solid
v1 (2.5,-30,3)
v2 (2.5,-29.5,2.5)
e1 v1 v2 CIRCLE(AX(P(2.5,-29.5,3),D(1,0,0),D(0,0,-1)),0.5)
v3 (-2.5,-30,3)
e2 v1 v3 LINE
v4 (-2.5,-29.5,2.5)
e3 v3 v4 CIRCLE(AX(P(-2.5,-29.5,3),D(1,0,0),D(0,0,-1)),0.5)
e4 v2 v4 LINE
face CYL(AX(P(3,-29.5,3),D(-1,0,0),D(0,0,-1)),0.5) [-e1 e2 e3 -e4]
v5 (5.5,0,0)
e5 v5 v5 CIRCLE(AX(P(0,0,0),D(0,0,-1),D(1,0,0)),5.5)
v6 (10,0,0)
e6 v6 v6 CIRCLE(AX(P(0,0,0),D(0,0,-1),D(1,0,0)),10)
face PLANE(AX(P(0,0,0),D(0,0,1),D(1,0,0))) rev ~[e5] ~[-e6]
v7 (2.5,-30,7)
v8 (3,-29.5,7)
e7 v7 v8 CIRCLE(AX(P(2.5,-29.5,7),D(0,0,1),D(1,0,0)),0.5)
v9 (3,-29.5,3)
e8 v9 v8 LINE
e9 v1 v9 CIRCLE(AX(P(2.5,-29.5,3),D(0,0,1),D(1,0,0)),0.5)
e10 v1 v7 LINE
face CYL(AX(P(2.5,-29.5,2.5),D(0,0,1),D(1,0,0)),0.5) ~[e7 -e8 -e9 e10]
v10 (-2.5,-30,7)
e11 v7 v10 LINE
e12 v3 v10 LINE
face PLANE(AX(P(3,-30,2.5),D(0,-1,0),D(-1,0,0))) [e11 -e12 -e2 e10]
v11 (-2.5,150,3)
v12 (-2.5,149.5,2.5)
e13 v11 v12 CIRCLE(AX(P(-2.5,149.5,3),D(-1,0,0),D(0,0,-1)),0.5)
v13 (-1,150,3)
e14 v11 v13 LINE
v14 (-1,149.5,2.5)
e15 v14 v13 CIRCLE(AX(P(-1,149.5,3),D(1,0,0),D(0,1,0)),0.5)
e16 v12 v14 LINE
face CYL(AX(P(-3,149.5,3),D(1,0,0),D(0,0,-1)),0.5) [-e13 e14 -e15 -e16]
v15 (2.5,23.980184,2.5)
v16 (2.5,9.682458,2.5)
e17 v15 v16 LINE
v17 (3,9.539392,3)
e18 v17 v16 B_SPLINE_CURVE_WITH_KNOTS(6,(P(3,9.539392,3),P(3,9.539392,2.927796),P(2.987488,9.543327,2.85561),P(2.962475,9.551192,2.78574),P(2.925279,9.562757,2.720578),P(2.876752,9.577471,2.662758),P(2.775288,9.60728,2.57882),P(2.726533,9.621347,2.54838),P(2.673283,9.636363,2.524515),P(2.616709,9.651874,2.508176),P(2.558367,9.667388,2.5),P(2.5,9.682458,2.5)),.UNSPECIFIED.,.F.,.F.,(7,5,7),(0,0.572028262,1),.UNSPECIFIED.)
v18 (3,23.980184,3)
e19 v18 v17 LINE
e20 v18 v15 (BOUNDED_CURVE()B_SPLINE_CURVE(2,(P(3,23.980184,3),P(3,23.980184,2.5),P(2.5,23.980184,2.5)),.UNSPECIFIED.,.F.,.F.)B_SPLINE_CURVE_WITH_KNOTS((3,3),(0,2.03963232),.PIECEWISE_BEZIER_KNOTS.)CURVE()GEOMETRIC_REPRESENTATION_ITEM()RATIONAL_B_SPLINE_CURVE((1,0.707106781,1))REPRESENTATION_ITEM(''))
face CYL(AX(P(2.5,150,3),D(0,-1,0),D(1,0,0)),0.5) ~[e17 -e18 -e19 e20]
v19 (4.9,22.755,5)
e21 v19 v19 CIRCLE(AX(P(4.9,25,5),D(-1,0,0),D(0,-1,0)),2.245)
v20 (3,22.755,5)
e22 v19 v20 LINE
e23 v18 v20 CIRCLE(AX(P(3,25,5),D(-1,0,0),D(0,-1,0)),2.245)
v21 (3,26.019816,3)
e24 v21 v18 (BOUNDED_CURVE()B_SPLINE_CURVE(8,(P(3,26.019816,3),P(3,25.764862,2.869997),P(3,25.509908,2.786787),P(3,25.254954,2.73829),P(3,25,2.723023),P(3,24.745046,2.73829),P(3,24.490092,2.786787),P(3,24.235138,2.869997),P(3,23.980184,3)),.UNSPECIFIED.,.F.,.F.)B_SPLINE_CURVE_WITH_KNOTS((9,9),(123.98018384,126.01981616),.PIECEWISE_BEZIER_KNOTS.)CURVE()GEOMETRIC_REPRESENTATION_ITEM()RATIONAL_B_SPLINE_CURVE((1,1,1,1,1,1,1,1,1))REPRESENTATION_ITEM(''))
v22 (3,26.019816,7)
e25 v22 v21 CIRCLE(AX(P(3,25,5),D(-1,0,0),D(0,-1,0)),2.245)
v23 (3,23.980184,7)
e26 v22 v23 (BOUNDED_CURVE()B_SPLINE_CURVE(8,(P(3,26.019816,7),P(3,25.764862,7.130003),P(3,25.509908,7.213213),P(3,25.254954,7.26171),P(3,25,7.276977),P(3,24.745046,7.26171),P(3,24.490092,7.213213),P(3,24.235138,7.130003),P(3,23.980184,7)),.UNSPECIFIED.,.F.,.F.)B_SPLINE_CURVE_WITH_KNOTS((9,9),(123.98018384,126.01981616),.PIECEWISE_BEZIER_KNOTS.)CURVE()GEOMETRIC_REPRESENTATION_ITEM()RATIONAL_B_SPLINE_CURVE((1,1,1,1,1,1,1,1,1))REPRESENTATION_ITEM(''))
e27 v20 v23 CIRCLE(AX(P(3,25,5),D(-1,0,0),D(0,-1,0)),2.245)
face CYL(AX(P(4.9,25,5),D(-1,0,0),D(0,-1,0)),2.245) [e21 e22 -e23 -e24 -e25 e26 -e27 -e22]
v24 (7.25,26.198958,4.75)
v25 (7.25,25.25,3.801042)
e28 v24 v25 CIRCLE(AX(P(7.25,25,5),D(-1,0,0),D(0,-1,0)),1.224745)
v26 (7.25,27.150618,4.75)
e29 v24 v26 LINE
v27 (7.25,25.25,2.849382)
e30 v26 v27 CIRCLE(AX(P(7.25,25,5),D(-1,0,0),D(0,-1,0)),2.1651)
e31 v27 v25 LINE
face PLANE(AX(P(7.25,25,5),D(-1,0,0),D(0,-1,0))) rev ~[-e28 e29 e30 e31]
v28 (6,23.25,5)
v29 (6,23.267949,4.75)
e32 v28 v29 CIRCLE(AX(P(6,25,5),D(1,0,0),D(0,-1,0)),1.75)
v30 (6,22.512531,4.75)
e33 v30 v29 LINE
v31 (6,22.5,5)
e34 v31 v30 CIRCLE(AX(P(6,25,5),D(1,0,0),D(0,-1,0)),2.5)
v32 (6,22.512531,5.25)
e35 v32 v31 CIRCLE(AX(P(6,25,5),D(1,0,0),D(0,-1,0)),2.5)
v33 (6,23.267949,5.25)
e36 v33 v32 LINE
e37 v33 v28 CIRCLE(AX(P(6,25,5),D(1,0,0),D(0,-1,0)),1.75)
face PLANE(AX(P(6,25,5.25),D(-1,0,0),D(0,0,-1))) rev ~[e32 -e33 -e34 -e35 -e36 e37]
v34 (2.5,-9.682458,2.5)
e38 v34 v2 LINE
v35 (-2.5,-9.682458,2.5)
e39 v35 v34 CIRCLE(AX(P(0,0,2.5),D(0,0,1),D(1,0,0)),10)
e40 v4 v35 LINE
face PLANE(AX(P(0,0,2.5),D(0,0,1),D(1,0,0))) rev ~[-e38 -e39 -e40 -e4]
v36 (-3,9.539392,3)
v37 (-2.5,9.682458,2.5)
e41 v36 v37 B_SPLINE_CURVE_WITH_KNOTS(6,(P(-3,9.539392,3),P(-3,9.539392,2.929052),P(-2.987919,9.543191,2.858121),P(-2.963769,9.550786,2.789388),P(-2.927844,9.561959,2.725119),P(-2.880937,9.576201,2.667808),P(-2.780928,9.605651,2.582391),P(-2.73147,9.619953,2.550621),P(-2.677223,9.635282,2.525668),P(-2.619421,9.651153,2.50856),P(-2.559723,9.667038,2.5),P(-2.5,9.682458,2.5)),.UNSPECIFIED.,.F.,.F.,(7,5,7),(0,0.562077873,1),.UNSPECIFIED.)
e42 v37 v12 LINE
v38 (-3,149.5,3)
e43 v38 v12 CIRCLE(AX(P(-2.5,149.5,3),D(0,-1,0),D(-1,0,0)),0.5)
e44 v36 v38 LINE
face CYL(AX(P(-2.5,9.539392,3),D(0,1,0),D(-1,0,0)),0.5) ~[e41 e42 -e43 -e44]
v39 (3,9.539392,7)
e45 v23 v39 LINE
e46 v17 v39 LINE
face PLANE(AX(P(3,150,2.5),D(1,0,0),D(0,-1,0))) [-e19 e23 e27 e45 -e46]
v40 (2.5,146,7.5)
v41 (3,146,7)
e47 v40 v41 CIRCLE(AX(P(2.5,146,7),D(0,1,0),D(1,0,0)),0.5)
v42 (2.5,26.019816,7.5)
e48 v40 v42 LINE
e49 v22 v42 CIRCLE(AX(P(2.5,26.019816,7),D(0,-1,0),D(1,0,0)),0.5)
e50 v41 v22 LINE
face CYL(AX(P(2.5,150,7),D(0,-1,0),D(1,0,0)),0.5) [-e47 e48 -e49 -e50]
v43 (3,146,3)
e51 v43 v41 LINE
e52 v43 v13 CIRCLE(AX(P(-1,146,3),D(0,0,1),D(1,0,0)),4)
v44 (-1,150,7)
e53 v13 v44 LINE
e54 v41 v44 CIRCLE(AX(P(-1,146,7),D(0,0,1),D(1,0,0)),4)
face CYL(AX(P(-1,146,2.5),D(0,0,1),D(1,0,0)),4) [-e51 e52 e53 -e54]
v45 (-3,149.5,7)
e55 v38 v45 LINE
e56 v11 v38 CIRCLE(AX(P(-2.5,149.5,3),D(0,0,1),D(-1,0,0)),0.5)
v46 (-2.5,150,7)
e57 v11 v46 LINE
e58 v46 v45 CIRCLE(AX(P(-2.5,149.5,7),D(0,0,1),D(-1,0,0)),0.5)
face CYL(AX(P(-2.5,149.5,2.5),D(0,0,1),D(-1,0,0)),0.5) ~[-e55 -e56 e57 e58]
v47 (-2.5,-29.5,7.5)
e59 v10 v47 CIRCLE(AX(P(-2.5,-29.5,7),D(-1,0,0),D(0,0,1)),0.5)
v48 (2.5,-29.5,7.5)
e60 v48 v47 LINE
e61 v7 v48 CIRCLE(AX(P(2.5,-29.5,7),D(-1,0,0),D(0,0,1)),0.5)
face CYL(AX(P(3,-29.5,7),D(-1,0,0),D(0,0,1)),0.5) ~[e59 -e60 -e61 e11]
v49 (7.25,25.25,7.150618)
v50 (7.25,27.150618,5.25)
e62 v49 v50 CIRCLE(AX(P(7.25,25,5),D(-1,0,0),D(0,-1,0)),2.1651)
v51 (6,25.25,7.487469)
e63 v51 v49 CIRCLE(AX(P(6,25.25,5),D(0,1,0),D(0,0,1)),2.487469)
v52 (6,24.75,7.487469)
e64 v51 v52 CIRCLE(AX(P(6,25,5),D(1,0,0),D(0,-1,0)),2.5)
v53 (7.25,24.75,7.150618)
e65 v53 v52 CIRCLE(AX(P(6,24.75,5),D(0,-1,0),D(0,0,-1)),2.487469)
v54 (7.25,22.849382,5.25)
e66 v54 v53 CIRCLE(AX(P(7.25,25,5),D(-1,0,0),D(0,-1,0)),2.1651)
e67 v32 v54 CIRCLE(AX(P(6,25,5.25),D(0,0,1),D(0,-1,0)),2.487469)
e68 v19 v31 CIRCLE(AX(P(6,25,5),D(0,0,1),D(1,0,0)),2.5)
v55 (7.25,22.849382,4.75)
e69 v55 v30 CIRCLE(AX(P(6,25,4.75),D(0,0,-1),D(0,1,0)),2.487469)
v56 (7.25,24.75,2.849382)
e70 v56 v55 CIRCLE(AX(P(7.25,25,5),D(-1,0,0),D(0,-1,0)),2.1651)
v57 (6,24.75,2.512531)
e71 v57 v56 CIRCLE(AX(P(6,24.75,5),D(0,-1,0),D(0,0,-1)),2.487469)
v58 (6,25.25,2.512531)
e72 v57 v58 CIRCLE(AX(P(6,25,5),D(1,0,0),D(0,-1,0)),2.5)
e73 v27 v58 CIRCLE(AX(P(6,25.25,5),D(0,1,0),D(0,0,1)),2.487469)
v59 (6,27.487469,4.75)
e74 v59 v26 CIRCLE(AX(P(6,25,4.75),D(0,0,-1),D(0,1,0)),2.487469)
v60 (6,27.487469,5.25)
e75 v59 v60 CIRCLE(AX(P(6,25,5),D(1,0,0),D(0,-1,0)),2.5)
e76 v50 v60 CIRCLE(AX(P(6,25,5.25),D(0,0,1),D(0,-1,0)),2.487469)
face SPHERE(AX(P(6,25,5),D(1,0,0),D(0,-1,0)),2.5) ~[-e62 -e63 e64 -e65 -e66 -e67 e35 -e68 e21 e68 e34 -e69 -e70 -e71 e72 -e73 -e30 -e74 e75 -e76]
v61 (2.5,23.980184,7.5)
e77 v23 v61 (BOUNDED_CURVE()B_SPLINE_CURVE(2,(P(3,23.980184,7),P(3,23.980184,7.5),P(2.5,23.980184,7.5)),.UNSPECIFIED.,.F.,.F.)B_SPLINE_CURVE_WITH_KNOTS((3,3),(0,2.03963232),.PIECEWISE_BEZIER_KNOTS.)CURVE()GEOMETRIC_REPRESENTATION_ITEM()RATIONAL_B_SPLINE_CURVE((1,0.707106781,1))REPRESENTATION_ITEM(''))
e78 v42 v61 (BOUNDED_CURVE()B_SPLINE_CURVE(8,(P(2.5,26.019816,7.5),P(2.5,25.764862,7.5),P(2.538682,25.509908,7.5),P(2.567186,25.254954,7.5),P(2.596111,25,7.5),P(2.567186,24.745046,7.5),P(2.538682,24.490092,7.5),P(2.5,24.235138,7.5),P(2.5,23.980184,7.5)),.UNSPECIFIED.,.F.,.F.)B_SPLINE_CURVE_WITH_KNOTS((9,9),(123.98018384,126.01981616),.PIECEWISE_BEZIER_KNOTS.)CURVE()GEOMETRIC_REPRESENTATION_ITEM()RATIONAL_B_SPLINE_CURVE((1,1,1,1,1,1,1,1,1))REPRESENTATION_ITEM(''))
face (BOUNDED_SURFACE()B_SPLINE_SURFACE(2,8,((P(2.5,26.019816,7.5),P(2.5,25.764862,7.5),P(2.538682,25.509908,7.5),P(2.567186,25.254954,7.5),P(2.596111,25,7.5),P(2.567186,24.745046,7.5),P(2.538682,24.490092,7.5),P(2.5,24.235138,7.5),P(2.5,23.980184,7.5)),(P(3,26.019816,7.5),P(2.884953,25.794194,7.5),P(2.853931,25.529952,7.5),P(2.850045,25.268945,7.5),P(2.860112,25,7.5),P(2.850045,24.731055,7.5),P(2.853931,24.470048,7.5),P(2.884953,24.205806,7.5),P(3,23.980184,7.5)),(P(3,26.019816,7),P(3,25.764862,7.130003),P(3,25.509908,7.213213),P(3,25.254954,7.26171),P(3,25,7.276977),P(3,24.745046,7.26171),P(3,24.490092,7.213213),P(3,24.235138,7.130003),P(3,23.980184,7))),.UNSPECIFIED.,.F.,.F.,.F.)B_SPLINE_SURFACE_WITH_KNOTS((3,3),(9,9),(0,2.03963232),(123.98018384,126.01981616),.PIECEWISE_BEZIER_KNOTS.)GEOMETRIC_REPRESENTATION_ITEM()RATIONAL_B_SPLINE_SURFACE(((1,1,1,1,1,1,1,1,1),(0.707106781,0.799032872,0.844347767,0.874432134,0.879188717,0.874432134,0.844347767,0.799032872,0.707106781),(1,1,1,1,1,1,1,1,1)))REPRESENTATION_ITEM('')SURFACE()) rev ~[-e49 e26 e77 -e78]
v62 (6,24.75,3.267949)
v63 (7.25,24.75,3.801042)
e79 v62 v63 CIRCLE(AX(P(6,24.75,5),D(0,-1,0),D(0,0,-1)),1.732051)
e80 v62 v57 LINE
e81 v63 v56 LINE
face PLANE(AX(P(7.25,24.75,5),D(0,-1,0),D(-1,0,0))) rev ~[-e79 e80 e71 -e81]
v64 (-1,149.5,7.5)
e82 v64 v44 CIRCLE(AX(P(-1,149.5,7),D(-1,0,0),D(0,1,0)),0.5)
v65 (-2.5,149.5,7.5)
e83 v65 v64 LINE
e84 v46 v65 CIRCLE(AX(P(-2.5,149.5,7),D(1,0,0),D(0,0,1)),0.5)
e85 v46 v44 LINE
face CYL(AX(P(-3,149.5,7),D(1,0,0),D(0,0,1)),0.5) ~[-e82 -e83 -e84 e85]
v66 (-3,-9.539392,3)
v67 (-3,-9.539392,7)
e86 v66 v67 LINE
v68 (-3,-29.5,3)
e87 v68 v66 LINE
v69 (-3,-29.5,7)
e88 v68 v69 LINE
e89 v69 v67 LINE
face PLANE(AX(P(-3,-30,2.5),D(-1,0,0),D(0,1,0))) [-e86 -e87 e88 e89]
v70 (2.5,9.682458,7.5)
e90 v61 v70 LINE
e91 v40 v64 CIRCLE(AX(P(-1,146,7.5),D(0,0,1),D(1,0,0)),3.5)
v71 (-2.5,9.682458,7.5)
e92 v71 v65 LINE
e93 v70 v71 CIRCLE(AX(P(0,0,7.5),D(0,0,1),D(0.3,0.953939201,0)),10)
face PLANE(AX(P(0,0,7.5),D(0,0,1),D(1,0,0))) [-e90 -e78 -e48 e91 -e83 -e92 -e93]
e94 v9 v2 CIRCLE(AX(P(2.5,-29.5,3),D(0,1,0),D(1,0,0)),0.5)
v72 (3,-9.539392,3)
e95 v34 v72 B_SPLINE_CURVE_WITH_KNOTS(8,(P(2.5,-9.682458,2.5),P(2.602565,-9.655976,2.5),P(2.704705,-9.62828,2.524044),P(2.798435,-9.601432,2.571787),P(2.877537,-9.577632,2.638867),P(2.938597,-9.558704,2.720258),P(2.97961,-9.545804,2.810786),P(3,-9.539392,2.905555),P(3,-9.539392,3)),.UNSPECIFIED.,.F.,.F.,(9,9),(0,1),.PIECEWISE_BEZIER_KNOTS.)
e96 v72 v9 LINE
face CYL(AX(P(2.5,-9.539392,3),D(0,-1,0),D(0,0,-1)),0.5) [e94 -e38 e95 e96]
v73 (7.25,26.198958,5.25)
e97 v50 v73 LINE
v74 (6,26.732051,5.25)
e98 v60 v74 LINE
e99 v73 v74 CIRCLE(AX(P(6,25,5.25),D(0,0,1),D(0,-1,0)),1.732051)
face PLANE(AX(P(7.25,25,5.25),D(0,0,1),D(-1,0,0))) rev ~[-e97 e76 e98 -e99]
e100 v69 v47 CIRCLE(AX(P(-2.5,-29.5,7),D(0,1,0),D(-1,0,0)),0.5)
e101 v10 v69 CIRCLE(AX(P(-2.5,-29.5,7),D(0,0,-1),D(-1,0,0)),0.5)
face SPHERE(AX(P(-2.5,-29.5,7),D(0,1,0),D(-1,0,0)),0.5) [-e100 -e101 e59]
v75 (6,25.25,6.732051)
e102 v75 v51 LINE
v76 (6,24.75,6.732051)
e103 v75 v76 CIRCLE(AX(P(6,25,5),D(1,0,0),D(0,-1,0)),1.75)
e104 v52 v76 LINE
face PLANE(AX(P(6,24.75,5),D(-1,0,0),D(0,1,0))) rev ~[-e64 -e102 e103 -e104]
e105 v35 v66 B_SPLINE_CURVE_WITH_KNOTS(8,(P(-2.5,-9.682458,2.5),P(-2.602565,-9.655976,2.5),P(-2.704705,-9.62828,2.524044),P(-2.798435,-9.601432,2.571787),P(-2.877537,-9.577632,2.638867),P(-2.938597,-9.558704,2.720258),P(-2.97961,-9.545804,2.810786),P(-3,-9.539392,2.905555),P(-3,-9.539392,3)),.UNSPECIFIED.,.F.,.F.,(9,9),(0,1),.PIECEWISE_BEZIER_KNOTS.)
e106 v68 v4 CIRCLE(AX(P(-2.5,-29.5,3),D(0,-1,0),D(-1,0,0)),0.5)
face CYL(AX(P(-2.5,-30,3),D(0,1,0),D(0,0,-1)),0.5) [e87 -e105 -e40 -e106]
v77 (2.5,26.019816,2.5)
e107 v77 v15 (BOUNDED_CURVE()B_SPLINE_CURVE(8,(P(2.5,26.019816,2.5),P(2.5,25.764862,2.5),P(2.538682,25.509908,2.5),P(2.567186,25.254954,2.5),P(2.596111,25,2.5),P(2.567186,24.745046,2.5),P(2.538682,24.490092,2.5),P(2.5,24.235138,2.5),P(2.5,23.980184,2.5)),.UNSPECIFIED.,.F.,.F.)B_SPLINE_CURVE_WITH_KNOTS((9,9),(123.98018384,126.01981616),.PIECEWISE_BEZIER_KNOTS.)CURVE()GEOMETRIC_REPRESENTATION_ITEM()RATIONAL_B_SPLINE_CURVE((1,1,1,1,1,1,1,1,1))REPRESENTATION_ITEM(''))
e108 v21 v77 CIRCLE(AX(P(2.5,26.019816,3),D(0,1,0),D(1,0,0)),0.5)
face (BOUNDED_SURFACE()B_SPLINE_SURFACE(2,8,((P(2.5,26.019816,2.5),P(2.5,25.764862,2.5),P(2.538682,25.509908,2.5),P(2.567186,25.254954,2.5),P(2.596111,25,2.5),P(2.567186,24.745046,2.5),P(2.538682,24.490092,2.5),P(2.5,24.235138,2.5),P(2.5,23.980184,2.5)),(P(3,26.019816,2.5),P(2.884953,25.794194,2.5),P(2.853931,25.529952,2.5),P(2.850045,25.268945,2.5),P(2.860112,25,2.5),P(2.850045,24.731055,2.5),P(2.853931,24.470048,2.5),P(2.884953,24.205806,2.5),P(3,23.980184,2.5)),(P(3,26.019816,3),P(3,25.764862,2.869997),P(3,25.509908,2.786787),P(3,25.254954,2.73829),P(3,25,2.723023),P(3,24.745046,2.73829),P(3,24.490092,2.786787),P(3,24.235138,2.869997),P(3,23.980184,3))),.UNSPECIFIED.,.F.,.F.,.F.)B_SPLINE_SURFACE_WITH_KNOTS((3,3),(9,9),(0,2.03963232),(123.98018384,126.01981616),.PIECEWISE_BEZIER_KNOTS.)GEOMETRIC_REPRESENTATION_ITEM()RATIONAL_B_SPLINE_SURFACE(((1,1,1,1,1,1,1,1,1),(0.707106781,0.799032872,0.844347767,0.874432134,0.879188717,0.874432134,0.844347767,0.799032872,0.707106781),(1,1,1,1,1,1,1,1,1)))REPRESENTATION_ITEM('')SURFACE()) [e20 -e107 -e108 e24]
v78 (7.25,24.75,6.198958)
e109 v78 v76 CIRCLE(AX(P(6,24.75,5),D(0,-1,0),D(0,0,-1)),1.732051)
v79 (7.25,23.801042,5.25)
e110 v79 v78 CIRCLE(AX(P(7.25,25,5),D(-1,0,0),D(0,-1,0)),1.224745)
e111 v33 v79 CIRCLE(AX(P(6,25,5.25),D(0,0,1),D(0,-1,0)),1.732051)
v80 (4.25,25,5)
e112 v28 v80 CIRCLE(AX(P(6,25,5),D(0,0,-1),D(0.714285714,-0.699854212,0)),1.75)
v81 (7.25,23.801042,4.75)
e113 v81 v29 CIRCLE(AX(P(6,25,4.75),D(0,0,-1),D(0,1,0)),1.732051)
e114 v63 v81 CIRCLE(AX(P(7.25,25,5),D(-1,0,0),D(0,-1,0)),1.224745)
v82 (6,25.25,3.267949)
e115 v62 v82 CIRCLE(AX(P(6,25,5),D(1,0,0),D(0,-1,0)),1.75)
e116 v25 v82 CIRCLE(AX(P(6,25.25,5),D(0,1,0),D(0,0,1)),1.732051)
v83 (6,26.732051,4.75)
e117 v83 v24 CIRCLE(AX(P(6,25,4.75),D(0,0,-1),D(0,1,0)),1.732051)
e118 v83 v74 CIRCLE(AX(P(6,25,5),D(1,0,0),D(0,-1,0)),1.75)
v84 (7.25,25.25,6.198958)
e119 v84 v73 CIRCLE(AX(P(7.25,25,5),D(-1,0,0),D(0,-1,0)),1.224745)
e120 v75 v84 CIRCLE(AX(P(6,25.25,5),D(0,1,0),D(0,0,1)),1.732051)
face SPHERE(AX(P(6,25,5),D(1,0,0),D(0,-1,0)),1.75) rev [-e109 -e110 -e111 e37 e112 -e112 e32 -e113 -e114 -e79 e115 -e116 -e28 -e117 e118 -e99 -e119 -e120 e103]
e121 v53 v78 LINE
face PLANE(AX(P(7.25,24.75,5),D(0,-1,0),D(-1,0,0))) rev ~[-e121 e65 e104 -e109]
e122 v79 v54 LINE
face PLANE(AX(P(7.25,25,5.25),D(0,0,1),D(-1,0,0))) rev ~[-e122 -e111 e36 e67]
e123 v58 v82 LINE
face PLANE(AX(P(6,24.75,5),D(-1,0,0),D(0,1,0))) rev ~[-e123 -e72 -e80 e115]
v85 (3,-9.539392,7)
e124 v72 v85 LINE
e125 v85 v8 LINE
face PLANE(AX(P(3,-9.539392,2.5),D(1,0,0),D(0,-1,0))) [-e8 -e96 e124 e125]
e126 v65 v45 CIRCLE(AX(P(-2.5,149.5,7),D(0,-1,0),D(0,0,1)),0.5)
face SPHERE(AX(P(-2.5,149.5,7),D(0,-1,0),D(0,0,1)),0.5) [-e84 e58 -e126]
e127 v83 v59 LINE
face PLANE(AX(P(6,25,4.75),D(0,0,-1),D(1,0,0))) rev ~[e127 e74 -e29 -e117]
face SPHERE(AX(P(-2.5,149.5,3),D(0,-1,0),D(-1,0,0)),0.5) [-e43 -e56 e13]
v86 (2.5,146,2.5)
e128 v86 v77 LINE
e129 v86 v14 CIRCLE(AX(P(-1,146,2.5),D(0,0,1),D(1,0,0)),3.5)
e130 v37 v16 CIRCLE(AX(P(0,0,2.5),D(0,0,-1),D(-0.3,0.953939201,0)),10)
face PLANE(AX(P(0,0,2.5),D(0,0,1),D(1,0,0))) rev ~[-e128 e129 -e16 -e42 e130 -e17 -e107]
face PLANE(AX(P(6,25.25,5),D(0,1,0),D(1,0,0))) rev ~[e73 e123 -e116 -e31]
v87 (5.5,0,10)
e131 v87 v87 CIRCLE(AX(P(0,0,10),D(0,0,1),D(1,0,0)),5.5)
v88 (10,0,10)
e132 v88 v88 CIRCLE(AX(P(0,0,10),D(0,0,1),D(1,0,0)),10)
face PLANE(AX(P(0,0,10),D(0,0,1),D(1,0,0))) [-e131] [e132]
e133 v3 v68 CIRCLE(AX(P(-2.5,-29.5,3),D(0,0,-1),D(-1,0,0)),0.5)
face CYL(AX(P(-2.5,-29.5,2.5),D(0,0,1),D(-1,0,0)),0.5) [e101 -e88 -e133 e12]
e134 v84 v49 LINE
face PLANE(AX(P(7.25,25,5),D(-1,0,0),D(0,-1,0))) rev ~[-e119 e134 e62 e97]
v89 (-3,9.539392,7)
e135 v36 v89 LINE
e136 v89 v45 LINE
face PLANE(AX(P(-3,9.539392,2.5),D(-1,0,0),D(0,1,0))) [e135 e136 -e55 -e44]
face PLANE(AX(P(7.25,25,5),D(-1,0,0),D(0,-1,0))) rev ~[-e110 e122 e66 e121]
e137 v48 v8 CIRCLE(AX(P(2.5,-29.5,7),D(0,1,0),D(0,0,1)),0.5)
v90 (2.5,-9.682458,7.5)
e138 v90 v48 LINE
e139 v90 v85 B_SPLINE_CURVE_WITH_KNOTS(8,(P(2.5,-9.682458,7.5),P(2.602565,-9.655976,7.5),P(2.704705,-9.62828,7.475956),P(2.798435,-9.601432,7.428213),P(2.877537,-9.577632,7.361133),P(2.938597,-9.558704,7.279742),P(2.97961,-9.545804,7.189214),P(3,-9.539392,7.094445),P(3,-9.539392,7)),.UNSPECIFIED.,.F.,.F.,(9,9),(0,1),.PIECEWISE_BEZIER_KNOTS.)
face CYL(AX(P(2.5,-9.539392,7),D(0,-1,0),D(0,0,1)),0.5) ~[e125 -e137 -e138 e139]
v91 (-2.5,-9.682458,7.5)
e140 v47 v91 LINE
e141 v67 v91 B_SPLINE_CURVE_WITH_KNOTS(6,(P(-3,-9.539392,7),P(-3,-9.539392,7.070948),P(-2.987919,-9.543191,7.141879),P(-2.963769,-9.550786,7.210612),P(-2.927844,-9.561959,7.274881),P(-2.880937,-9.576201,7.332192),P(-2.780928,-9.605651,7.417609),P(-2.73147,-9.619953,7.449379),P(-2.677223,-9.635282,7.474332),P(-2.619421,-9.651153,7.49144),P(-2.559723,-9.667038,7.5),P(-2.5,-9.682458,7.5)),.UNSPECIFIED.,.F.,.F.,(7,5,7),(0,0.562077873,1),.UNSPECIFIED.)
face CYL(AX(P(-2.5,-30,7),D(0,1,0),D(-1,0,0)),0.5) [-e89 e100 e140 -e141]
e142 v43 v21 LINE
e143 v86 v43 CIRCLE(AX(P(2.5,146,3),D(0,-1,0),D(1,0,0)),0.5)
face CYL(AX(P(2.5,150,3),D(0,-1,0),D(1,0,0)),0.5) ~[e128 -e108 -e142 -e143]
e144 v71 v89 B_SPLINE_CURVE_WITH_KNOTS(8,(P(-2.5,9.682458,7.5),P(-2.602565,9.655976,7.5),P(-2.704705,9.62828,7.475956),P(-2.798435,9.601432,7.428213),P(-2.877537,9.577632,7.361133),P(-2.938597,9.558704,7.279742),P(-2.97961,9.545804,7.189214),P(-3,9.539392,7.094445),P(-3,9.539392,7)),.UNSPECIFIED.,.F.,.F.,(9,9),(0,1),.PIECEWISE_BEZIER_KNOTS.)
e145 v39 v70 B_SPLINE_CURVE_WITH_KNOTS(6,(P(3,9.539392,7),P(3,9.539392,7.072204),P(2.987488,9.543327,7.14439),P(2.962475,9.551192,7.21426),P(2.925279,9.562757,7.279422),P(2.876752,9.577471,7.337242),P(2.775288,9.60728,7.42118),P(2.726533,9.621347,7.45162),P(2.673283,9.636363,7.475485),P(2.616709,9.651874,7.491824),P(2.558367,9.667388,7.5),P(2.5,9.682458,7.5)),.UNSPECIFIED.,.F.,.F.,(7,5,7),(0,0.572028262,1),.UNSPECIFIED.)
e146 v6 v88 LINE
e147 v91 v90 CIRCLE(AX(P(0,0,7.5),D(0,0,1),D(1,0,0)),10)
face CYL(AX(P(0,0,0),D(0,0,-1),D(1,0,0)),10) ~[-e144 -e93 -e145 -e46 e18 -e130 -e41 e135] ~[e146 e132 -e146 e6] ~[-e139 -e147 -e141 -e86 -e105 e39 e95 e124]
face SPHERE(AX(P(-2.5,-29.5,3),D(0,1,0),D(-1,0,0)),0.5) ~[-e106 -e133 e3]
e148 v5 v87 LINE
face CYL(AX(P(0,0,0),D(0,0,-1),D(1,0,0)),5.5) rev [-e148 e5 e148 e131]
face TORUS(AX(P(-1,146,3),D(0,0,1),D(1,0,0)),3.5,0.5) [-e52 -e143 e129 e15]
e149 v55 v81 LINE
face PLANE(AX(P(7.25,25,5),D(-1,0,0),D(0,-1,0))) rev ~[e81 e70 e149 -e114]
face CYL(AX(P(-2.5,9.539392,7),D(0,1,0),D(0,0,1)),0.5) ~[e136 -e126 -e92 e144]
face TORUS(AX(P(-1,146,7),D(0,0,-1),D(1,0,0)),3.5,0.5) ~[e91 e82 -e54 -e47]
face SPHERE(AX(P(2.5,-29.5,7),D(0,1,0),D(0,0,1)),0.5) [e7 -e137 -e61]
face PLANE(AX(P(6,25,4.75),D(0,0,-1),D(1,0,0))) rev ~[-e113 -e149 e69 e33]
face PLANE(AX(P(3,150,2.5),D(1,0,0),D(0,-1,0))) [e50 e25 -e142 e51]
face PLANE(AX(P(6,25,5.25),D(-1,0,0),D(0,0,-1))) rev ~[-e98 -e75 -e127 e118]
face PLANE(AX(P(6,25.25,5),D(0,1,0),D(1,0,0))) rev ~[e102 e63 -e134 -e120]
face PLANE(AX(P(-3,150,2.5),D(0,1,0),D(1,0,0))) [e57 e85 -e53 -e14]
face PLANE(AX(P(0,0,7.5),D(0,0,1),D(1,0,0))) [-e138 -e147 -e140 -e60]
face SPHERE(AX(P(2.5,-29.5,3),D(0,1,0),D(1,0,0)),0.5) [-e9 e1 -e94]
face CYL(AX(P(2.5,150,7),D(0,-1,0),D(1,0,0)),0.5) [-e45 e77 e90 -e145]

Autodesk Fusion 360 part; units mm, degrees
sketch "Szkic1" plane through (0, 0, 0) normal (0, 0, 1) x (1, 0, 0)
  circle A0 centre (0, 0) radius 5.5
  line L0 (-3, 150) -> (3, 150)
  line L1 (3, 150) -> (3, -30)
  line L2 (3, -30) -> (-3, -30)
  line L3 (-3, -30) -> (-3, 150)
  line L4 (0, 1.75) -> (0, 22.5)
  circle A1 centre (0, 0) radius 10
  dimension "d7" = 11
  dimension "d8" = 30
  dimension "d10" = 6
  dimension "d11" = 180
  dimension "d12" = 20
extrude "Wyciągnięcie proste1" add sketch "Szkic1" along normal blind 10 contours A0 L1 A1 | A0 L1 L4 A1 | A0 L1 L3 A1 | A0 L3 L4 A1 | A0 L3 A1
extrude "Wyciągnięcie proste2" add sketch "Szkic1" along normal blind 5 from surface at 2.5 contours L0 L1 L3 A1 | L1 L2 L3 A1
ref_plane "Płaszczyzna konstrukcyjna1" through (0, -19.7697, 5) normal (0, 0, 1) x (1, 0, 0)
sketch "Szkic2" plane through (0, 0, 5) normal (0, 0, 1) x (1, 0, 0)
  circle A0 centre (6, 25) radius 2.5
  line L0 (4.9, 22.755) -> (3, 22.755)
  line L1 (3, 22.755) -> (3, 27.245)
  line L2 (3, 27.245) -> (4.9, 27.245)
  line L3 (4.9, 27.245) -> (4.9, 22.755)
  line L4 (3, 150) -> (3, -30)
  line L5 (6, 25) -> (3, 25)
  line L6 (7.25, 22.8349) -> (7.25, 27.1651)
  circle A1 centre (6, 25) radius 1.75
  line L7 (7.7321, 24.75) -> (6, 24.75)
  line L8 (6, 24.75) -> (6, 25.25)
  line L9 (6, 25.25) -> (7.7321, 25.25)
  line L10 (7.7321, 25.25) -> (7.7321, 24.75)
  line L11 (-3, 150) -> (3, 150)
  dimension "d18" = 5
  dimension "d19" = 1.25
  dimension "d20" = 3.5
  dimension "d21" = 0.5
  dimension "d22" = 25
  dimension "d23" = 125
  dimension "d24" = 1.1
  dimension "d25" = 3
revolve "Obrót1" add sketch "Szkic2" angle 360 about axis through (6, 25, 5) along (-1, 0, 0) contours A0 L3 L6 A1 | A0 L0 L1 L4 L5 | A0 L3 L5 A1 picked at (5.1557, 22.9188) picked at (4.6078, 23.2377)
extrude "Wyciągnięcie proste3" cut sketch "Szkic2" along normal through all and the other way through all contours L6 L7 L8 L9
pattern_circular "Szyk kołowy1" count 2 over 90 about axis through (6, 25, 5) along (-1, 0, 0) of "Wyciągnięcie proste3"
fillet "Zaokrąglenie1" radius 0.5 15 edges at (3, 79.7697, 7.5) (-3, 79.7697, 7.5) (3, 79.7697, 2.5) (-3, 79.7697, 2.5) (3, -19.7697, 7.5) (-3, -19.7697, 7.5) (3, -19.7697, 2.5) (-3, -19.7697, 2.5) (-3, -30, 5) (0, -30, 7.5) (3, -30, 5) (0, -30, 2.5) (0, 150, 7.5) (-3, 150, 5) (0, 150, 2.5)
fillet "Zaokrąglenie1" radius 4 1 edges at (3, 150, 5)
